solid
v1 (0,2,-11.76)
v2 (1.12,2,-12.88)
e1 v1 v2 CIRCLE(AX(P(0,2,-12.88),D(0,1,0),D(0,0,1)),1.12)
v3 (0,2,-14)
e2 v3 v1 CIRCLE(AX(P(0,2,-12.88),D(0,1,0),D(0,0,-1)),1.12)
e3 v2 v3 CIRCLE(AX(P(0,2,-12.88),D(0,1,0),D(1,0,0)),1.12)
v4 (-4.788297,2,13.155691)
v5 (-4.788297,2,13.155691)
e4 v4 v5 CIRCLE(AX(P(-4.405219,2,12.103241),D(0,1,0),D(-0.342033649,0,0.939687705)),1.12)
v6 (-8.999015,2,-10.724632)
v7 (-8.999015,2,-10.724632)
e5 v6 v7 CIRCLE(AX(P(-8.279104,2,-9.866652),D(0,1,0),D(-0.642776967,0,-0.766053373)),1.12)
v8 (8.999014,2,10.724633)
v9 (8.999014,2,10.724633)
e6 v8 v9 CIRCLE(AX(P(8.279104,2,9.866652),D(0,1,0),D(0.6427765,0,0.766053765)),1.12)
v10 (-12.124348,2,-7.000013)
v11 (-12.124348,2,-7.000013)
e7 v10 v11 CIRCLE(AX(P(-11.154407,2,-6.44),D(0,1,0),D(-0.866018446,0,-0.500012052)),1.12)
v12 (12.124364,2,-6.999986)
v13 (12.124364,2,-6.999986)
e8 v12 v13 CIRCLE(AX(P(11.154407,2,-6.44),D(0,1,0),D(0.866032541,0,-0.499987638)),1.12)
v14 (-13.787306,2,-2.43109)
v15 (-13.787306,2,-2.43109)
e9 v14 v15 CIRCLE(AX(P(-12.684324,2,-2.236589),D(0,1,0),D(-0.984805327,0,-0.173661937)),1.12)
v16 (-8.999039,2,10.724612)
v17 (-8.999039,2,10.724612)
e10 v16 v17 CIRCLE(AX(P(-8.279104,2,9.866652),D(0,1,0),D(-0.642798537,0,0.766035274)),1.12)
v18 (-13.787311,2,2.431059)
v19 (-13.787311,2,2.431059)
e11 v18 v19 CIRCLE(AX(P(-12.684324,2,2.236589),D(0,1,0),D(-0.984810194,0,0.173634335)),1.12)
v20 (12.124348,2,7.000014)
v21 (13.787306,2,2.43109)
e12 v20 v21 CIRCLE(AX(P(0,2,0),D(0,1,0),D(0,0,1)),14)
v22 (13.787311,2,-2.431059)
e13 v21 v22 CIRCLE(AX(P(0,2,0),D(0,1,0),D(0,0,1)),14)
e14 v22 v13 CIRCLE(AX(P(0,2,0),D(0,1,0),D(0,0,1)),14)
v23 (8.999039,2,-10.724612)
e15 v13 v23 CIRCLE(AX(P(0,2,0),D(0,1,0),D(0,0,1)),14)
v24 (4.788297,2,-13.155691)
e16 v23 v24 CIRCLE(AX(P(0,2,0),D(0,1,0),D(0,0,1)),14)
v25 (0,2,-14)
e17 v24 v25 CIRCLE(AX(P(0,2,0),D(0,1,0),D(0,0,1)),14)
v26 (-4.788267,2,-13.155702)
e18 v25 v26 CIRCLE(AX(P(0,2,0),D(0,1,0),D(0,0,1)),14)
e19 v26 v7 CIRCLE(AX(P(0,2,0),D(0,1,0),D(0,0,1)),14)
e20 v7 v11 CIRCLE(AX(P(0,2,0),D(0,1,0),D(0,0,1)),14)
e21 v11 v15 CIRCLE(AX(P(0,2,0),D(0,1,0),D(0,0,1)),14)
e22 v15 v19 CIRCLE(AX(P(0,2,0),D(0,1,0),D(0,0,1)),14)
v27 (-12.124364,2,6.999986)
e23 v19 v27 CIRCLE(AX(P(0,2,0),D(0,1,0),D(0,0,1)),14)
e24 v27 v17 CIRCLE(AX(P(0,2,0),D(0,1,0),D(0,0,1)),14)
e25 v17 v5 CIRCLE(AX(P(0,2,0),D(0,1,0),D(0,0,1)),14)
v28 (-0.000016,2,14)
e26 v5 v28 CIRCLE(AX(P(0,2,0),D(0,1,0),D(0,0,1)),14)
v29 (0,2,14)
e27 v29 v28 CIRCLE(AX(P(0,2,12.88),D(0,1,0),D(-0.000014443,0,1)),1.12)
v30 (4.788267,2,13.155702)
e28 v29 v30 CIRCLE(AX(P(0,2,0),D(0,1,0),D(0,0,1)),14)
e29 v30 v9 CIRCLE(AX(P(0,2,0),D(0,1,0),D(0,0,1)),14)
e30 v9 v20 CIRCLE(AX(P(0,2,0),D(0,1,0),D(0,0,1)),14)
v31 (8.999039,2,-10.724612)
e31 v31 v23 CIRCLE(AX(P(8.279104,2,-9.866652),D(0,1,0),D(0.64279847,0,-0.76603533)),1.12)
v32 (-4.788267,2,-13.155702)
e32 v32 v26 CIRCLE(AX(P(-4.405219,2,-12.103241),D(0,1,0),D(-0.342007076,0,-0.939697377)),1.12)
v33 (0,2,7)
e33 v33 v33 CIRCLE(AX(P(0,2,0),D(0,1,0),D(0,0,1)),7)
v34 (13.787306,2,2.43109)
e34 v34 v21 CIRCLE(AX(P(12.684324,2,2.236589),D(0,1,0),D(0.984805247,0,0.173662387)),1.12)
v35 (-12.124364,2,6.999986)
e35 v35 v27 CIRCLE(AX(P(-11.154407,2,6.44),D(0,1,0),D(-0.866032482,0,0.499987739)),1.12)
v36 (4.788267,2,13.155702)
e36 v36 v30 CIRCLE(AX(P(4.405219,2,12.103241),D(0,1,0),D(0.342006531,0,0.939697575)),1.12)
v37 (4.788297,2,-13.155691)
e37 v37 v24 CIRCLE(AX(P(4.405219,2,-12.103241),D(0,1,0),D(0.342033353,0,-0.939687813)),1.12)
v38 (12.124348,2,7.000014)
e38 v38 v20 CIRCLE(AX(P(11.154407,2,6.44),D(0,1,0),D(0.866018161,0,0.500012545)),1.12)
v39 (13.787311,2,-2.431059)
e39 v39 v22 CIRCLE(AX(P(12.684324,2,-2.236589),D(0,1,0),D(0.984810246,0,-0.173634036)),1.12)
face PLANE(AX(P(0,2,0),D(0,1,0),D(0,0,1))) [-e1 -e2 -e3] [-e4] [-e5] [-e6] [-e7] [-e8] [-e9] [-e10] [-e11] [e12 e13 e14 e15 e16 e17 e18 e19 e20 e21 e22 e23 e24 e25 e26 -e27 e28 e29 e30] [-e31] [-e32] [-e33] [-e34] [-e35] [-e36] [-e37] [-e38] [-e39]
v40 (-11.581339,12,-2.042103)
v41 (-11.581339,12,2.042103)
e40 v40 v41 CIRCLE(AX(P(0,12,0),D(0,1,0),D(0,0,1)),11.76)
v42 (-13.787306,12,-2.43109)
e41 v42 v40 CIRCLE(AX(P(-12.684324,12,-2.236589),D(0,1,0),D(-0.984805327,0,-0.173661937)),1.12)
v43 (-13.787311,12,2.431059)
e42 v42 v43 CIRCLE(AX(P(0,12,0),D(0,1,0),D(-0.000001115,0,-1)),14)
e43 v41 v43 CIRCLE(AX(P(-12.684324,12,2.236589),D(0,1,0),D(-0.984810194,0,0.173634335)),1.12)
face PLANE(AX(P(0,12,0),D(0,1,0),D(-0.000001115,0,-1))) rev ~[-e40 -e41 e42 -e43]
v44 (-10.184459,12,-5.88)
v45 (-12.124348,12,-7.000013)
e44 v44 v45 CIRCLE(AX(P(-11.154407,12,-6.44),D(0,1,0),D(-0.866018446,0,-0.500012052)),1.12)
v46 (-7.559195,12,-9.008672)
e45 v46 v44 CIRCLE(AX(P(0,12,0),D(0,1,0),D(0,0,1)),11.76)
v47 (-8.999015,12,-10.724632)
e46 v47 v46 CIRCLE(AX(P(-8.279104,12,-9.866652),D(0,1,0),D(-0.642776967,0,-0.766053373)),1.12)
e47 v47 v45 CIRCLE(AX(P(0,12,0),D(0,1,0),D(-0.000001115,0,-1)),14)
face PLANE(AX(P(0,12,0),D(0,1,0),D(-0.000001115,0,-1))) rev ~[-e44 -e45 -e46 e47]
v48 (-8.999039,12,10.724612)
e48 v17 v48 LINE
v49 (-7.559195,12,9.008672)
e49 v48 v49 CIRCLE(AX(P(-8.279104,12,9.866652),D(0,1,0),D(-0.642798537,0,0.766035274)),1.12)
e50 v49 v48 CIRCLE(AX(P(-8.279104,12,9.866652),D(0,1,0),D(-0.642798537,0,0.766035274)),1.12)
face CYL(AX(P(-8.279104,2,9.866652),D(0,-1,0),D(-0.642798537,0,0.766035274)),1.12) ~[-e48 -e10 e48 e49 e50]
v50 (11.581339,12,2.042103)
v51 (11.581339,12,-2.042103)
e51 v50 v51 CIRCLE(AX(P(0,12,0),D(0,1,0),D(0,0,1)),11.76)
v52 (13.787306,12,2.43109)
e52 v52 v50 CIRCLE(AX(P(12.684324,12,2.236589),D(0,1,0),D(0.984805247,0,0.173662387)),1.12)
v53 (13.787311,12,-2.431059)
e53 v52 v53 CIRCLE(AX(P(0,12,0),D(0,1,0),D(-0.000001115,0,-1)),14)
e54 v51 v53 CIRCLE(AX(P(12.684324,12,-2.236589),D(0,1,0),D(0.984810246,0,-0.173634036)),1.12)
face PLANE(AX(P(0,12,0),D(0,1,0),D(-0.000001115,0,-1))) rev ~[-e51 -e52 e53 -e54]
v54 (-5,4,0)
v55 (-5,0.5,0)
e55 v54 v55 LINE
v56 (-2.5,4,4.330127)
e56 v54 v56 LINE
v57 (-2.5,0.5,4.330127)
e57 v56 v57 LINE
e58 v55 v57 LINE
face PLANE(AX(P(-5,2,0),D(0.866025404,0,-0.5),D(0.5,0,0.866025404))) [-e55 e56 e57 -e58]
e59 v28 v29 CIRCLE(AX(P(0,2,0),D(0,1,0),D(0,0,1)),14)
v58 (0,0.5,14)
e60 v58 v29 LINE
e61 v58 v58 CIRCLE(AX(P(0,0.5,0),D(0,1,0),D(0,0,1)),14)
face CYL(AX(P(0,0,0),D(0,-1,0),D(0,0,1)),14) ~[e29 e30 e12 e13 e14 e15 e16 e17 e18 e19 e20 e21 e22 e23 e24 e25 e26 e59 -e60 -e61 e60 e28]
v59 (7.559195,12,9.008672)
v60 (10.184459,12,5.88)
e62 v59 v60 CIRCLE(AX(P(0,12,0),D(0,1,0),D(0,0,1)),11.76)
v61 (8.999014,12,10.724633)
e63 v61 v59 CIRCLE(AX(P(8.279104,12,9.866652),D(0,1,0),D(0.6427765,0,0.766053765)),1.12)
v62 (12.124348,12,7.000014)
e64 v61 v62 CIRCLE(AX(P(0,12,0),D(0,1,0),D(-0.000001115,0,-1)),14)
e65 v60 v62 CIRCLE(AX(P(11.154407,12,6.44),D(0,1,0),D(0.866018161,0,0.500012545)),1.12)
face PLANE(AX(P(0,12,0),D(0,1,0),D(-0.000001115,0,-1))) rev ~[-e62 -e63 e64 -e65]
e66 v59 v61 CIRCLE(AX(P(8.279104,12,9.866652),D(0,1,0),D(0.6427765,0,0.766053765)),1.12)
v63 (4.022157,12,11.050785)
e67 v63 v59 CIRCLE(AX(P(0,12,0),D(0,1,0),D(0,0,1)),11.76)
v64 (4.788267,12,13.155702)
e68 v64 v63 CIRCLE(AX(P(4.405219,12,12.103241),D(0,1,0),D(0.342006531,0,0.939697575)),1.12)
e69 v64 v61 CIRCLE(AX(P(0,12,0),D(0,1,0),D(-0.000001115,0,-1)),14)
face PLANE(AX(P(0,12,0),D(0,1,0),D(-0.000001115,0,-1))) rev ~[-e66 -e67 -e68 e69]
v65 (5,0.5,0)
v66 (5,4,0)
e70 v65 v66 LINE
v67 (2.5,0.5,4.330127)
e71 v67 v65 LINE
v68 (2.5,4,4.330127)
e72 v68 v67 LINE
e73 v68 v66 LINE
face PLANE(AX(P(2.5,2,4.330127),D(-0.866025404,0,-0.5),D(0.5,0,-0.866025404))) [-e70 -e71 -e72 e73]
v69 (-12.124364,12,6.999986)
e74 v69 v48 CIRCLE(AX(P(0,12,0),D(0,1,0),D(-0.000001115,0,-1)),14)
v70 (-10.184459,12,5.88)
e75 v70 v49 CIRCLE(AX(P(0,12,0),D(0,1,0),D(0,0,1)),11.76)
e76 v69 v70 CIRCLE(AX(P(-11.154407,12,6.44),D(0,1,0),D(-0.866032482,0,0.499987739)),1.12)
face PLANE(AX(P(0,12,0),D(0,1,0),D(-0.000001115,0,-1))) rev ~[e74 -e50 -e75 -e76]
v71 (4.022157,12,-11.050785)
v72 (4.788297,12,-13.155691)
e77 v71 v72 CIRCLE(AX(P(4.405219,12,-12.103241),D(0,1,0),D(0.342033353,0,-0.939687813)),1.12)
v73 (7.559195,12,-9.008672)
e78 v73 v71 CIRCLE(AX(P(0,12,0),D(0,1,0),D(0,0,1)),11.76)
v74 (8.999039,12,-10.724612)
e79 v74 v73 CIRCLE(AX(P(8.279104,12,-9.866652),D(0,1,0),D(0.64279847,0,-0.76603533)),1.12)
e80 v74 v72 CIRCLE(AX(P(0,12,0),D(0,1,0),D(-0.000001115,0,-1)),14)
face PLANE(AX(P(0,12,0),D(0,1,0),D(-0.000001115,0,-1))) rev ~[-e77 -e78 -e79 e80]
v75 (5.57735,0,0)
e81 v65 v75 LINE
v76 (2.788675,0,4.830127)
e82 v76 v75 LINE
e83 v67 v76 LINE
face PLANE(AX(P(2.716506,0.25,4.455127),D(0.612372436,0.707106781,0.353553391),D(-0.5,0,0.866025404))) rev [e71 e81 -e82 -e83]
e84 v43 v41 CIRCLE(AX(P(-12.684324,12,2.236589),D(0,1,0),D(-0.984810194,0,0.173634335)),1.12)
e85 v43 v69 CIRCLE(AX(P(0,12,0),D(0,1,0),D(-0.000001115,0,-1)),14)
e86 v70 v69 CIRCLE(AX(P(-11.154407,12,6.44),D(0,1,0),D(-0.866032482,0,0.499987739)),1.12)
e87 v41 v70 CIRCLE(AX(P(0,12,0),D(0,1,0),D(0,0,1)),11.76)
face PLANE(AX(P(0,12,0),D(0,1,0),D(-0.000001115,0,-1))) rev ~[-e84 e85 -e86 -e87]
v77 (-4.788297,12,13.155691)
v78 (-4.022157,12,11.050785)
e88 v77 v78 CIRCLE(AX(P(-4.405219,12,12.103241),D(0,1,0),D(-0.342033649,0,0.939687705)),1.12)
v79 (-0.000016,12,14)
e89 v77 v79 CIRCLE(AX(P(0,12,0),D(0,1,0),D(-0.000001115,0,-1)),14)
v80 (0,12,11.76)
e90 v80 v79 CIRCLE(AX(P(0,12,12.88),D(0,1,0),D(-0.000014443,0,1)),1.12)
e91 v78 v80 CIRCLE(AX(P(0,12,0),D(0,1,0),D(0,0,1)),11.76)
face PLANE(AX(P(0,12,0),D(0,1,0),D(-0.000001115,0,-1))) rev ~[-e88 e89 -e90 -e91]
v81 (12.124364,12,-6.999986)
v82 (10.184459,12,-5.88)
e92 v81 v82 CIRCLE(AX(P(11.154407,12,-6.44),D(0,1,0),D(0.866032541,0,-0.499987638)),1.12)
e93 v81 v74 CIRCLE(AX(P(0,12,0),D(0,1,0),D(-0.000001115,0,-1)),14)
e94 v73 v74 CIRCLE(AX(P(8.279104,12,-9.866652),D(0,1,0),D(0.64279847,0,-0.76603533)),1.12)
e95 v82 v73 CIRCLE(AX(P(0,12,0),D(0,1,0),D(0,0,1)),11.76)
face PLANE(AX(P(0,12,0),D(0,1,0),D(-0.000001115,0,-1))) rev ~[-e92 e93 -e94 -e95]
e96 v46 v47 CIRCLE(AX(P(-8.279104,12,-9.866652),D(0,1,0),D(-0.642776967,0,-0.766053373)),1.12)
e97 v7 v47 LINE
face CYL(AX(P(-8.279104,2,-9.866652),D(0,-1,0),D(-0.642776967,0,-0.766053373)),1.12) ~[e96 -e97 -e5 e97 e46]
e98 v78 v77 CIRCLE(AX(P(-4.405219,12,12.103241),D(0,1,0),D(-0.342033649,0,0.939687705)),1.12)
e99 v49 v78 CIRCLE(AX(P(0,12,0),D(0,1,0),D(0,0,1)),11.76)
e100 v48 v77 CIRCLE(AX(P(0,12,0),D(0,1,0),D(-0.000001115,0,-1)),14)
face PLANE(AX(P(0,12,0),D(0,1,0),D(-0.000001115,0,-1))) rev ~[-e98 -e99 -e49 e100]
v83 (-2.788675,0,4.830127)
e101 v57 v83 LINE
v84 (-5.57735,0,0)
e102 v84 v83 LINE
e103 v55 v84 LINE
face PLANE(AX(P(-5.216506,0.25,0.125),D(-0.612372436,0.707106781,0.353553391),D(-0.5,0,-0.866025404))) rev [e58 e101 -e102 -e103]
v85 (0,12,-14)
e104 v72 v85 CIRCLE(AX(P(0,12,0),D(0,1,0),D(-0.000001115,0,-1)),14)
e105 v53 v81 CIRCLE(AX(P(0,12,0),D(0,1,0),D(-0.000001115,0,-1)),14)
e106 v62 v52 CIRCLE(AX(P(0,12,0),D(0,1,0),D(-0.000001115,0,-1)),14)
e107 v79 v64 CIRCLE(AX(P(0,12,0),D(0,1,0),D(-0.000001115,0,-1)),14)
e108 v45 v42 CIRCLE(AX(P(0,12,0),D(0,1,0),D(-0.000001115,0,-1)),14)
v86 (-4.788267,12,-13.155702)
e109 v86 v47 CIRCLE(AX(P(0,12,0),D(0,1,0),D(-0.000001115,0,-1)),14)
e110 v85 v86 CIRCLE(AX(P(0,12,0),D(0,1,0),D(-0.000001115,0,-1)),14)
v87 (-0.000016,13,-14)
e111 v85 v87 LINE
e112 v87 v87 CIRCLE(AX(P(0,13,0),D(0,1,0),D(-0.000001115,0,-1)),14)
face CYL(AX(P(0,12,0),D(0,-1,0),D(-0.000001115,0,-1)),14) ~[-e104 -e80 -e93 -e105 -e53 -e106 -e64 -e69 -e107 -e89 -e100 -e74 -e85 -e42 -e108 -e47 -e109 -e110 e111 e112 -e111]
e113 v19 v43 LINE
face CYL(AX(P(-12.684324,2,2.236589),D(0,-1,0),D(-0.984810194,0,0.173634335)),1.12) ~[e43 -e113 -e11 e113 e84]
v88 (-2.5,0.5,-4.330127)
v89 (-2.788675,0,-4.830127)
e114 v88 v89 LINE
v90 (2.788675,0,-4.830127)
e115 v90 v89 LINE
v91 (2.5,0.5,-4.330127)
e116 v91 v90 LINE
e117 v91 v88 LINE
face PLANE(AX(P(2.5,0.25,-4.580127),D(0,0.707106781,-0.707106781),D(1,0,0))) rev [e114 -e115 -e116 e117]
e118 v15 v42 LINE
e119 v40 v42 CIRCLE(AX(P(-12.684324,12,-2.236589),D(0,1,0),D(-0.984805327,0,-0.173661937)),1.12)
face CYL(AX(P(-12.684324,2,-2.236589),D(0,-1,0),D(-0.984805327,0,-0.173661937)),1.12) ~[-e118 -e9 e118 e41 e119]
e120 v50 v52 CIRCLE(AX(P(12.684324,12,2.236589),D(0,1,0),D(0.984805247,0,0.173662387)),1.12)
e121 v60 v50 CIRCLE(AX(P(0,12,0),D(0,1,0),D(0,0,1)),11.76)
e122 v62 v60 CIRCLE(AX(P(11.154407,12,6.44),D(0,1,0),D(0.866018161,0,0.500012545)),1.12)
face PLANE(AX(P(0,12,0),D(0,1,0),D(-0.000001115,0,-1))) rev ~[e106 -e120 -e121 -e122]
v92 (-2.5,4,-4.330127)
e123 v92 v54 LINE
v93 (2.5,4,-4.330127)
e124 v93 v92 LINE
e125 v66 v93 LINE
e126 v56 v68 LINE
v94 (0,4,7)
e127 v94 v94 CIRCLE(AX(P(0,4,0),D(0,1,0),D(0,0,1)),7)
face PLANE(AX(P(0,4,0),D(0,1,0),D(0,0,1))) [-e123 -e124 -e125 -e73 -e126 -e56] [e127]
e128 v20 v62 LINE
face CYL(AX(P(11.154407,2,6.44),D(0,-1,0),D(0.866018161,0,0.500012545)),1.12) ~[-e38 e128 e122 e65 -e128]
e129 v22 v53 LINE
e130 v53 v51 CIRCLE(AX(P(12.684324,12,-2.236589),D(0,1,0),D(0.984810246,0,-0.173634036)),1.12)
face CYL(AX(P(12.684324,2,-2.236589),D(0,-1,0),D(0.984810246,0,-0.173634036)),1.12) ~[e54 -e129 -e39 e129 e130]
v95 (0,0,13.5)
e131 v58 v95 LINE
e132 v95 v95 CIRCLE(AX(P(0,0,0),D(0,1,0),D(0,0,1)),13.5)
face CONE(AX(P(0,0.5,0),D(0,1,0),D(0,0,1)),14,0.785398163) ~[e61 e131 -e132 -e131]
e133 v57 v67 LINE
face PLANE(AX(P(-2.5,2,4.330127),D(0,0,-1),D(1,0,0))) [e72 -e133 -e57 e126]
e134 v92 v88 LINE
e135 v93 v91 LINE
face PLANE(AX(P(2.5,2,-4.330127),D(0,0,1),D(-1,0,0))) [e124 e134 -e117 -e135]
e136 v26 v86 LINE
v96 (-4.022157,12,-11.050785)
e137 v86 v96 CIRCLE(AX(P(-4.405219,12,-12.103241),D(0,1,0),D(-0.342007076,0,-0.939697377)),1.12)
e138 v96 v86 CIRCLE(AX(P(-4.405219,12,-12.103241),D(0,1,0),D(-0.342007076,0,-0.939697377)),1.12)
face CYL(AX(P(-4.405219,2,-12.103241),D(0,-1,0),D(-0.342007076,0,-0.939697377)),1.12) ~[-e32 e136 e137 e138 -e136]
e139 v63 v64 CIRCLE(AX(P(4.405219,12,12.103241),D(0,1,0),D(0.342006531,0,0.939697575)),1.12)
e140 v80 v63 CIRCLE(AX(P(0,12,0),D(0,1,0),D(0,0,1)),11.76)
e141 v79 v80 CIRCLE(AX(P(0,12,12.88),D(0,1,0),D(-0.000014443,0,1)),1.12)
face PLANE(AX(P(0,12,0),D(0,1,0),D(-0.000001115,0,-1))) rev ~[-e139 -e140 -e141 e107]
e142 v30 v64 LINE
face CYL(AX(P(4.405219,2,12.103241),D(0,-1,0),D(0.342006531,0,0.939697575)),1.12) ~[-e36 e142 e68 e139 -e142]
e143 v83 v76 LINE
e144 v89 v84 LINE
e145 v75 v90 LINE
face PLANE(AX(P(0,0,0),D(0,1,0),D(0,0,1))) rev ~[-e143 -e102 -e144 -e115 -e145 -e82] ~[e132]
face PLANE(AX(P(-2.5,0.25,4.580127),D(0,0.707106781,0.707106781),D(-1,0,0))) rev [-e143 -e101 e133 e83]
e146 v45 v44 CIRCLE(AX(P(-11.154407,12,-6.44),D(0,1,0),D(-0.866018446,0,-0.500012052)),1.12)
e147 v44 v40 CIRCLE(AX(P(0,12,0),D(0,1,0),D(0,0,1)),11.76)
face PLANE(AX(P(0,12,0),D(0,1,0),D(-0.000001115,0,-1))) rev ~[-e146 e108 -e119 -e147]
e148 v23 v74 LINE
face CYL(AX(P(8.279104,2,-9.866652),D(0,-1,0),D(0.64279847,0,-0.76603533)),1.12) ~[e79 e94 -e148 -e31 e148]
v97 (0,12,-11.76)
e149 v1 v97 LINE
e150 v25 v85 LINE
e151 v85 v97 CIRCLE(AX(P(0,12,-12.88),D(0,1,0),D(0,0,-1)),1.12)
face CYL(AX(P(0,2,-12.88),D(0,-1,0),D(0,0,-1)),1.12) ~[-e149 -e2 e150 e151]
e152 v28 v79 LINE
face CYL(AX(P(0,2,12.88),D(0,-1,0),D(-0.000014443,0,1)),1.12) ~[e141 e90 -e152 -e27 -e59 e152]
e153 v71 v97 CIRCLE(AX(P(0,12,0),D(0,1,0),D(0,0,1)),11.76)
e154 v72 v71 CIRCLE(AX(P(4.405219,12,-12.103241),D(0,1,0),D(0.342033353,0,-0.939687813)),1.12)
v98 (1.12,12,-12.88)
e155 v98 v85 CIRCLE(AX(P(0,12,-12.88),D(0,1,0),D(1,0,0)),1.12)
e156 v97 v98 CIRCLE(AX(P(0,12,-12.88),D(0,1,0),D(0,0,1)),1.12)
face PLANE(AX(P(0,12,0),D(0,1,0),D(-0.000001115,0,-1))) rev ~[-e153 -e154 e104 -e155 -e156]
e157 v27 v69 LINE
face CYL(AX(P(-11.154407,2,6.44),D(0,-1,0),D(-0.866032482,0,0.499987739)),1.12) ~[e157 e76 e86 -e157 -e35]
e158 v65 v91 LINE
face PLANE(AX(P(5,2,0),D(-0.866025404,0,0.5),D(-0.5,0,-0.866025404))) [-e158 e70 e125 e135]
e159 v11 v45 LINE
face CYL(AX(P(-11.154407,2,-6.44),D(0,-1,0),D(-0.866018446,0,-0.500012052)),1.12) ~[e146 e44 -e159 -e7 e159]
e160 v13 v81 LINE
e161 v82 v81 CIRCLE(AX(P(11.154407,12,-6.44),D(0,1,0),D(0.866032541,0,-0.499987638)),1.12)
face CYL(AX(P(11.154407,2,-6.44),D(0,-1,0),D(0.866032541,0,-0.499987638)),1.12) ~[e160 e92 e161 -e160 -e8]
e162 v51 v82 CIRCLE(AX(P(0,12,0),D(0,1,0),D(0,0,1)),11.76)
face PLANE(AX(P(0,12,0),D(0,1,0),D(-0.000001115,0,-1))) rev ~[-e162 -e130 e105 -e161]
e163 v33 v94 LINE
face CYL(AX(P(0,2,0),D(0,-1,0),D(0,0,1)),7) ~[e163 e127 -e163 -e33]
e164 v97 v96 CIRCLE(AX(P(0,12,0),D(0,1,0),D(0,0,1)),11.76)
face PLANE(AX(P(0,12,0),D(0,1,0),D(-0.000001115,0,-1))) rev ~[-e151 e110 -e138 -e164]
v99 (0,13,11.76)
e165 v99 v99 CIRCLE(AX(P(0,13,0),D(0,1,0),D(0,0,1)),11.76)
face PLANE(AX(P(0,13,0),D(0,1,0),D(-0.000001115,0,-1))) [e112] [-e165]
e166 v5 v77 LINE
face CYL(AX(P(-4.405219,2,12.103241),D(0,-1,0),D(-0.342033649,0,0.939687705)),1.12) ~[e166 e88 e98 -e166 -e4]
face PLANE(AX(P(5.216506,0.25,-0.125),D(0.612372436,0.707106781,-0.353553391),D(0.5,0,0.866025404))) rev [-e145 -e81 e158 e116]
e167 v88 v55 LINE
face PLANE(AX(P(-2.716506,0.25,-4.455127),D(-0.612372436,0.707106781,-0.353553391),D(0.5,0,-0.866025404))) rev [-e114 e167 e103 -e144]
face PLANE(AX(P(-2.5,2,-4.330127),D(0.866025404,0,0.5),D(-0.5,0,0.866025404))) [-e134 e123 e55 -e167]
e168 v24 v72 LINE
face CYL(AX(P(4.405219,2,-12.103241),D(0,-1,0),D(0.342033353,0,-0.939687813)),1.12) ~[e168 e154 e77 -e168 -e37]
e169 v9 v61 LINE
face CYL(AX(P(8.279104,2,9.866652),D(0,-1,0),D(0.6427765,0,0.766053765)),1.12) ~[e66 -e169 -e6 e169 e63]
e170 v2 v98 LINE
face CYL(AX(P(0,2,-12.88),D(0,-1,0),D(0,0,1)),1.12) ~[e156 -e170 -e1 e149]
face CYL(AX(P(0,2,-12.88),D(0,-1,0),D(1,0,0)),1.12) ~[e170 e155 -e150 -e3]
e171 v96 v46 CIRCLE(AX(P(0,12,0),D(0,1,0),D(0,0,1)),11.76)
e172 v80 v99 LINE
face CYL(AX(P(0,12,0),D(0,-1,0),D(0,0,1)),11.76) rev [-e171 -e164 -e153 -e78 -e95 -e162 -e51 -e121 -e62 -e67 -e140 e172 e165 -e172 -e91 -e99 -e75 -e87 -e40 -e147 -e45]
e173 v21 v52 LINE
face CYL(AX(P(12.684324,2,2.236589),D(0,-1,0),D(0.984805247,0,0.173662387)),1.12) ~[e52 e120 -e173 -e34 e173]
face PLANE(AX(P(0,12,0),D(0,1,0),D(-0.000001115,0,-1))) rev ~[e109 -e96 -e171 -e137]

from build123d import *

# Parameters (mm, degrees)
SKETCH1_R           = 14
BOSS_EXTRUDE1_DEPTH = 2
SKETCH2_R           = 1.12
BOSS_EXTRUDE2_DEPTH = 10
SKETCH3_R           = 14
SKETCH3_R_2         = 11.76
BOSS_EXTRUDE3_DEPTH = 1
CHAMFER1_SIZE       = 0.5
SKETCH5_R           = 7
BOSS_EXTRUDE4_DEPTH = 2


with BuildPart() as part:
    # Sketch1 → Boss-Extrude1 (new body)
    with BuildSketch(Plane(origin=(0, 0, 0), x_dir=(1, 0, 0), z_dir=(0, 1, 0))):
        with Locations(Location((0, 0, 0), (0, 0, 270))):
            Circle(SKETCH1_R)
        Polygon((5, 0), (2.5, 4.330127019), (-2.5, 4.330127019), (-5, 0), (-2.5, -4.330127019), (2.5, -4.330127019), align=None, mode=Mode.SUBTRACT)
    extrude(amount=BOSS_EXTRUDE1_DEPTH)

    # Sketch2 → Boss-Extrude2 (add)
    with BuildSketch(Plane(origin=(0, 2, 0), x_dir=(1, 0, 0), z_dir=(0, 1, 0))):
        with BuildLine():
            ThreePointArc((0, 14), (-1.12, 12.88), (0, 11.76))
            Line((0, 11.76), (0, 14))
        make_face()
        with BuildLine():
            Line((0, 14), (0, 11.76))
            ThreePointArc((0, 11.76), (0.791959595, 12.088040405), (1.12, 12.88))
            ThreePointArc((1.12, 12.88), (0.791959595, 13.671959595), (0, 14))
        make_face()
        with Locations(Location((4.405219446, 12.103240956, 0), (0, 0, 69.999194591))):
            Circle(SKETCH2_R)
        with Locations(Location((8.279104413, 9.866652427, 0), (0, 0, 49.999187687))):
            Circle(SKETCH2_R)
        with Locations(Location((11.154407201, 6.44, 0), (0, 0, 29.999182162))):
            Circle(SKETCH2_R)
        with Locations(Location((12.684323859, 2.236588528, 0), (0, 0, 9.999177247))):
            Circle(SKETCH2_R)
        with Locations(Location((12.684323859, -2.236588528, 0), (0, 0, 349.999173281))):
            Circle(SKETCH2_R)
        with Locations(Location((11.154407201, -6.44, 0), (0, 0, 329.99917002))):
            Circle(SKETCH2_R)
        with Locations(Location((8.279104413, -9.866652427, 0), (0, 0, 309.999169093))):
            Circle(SKETCH2_R)
        with Locations(Location((4.405219446, -12.103240956, 0), (0, 0, 289.999169998))):
            Circle(SKETCH2_R)
        with Locations(Location((-4.405219446, -12.103240956, 0), (0, 0, 249.999176515))):
            Circle(SKETCH2_R)
        with Locations(Location((-8.279104413, -9.866652427, 0), (0, 0, 229.999182687))):
            Circle(SKETCH2_R)
        with Locations(Location((-11.154407201, -6.44, 0), (0, 0, 209.999188831))):
            Circle(SKETCH2_R)
        with Locations(Location((-12.684323859, -2.236588528, 0), (0, 0, 189.999194613))):
            Circle(SKETCH2_R)
        with Locations(Location((-12.684323859, 2.236588528, 0), (0, 0, 169.999199466))):
            Circle(SKETCH2_R)
        with Locations(Location((-11.154407201, 6.44, 0), (0, 0, 149.999202654))):
            Circle(SKETCH2_R)
        with Locations(Location((-8.279104413, 9.866652427, 0), (0, 0, 129.999204018))):
            Circle(SKETCH2_R)
        with Locations(Location((-4.405219446, 12.103240956, 0), (0, 0, 109.99920326))):
            Circle(SKETCH2_R)
        with Locations(Location((0, -12.88, 0), (0, 0, 269.999172475))):
            Circle(SKETCH2_R)
    extrude(amount=BOSS_EXTRUDE2_DEPTH)

    # Sketch3 → Boss-Extrude3 (add)
    with BuildSketch(Plane(origin=(0, 12, 0), x_dir=(1, 0, 0), z_dir=(0, 1, 0))):
        with Locations(Location((0, 0, 0), (0, 0, 90.000063859))):
            Circle(SKETCH3_R)
        with Locations(Location((0, 0, 0), (0, 0, 270))):
            Circle(SKETCH3_R_2, mode=Mode.SUBTRACT)
    extrude(amount=BOSS_EXTRUDE3_DEPTH)

    # Chamfer1
    chamfer1_edges = [part.edges().sort_by_distance(p)[0] for p in [
        (0, 0, -4.330127019),
        (-3.75, 0, -2.165063509),
        (-3.75, 0, 2.165063509),
        (0, 0, 4.330127019),
        (0, 0, -14),
        (3.75, 0, 2.165063509),
        (3.75, 0, -2.165063509),
    ]]
    chamfer(chamfer1_edges, length=CHAMFER1_SIZE)

    # Sketch5 → Boss-Extrude4 (add)
    with BuildSketch(Plane(origin=(0, 2, 0), x_dir=(1, 0, 0), z_dir=(0, 1, 0))):
        with Locations(Location((0, 0, 0), (0, 0, 270))):
            Circle(SKETCH5_R)
        Polygon((5, 0), (2.5, 4.330127019), (-2.5, 4.330127019), (-5, 0), (-2.5, -4.330127019), (2.5, -4.330127019), align=None, mode=Mode.SUBTRACT)
    extrude(amount=BOSS_EXTRUDE4_DEPTH)


solid = part.part
